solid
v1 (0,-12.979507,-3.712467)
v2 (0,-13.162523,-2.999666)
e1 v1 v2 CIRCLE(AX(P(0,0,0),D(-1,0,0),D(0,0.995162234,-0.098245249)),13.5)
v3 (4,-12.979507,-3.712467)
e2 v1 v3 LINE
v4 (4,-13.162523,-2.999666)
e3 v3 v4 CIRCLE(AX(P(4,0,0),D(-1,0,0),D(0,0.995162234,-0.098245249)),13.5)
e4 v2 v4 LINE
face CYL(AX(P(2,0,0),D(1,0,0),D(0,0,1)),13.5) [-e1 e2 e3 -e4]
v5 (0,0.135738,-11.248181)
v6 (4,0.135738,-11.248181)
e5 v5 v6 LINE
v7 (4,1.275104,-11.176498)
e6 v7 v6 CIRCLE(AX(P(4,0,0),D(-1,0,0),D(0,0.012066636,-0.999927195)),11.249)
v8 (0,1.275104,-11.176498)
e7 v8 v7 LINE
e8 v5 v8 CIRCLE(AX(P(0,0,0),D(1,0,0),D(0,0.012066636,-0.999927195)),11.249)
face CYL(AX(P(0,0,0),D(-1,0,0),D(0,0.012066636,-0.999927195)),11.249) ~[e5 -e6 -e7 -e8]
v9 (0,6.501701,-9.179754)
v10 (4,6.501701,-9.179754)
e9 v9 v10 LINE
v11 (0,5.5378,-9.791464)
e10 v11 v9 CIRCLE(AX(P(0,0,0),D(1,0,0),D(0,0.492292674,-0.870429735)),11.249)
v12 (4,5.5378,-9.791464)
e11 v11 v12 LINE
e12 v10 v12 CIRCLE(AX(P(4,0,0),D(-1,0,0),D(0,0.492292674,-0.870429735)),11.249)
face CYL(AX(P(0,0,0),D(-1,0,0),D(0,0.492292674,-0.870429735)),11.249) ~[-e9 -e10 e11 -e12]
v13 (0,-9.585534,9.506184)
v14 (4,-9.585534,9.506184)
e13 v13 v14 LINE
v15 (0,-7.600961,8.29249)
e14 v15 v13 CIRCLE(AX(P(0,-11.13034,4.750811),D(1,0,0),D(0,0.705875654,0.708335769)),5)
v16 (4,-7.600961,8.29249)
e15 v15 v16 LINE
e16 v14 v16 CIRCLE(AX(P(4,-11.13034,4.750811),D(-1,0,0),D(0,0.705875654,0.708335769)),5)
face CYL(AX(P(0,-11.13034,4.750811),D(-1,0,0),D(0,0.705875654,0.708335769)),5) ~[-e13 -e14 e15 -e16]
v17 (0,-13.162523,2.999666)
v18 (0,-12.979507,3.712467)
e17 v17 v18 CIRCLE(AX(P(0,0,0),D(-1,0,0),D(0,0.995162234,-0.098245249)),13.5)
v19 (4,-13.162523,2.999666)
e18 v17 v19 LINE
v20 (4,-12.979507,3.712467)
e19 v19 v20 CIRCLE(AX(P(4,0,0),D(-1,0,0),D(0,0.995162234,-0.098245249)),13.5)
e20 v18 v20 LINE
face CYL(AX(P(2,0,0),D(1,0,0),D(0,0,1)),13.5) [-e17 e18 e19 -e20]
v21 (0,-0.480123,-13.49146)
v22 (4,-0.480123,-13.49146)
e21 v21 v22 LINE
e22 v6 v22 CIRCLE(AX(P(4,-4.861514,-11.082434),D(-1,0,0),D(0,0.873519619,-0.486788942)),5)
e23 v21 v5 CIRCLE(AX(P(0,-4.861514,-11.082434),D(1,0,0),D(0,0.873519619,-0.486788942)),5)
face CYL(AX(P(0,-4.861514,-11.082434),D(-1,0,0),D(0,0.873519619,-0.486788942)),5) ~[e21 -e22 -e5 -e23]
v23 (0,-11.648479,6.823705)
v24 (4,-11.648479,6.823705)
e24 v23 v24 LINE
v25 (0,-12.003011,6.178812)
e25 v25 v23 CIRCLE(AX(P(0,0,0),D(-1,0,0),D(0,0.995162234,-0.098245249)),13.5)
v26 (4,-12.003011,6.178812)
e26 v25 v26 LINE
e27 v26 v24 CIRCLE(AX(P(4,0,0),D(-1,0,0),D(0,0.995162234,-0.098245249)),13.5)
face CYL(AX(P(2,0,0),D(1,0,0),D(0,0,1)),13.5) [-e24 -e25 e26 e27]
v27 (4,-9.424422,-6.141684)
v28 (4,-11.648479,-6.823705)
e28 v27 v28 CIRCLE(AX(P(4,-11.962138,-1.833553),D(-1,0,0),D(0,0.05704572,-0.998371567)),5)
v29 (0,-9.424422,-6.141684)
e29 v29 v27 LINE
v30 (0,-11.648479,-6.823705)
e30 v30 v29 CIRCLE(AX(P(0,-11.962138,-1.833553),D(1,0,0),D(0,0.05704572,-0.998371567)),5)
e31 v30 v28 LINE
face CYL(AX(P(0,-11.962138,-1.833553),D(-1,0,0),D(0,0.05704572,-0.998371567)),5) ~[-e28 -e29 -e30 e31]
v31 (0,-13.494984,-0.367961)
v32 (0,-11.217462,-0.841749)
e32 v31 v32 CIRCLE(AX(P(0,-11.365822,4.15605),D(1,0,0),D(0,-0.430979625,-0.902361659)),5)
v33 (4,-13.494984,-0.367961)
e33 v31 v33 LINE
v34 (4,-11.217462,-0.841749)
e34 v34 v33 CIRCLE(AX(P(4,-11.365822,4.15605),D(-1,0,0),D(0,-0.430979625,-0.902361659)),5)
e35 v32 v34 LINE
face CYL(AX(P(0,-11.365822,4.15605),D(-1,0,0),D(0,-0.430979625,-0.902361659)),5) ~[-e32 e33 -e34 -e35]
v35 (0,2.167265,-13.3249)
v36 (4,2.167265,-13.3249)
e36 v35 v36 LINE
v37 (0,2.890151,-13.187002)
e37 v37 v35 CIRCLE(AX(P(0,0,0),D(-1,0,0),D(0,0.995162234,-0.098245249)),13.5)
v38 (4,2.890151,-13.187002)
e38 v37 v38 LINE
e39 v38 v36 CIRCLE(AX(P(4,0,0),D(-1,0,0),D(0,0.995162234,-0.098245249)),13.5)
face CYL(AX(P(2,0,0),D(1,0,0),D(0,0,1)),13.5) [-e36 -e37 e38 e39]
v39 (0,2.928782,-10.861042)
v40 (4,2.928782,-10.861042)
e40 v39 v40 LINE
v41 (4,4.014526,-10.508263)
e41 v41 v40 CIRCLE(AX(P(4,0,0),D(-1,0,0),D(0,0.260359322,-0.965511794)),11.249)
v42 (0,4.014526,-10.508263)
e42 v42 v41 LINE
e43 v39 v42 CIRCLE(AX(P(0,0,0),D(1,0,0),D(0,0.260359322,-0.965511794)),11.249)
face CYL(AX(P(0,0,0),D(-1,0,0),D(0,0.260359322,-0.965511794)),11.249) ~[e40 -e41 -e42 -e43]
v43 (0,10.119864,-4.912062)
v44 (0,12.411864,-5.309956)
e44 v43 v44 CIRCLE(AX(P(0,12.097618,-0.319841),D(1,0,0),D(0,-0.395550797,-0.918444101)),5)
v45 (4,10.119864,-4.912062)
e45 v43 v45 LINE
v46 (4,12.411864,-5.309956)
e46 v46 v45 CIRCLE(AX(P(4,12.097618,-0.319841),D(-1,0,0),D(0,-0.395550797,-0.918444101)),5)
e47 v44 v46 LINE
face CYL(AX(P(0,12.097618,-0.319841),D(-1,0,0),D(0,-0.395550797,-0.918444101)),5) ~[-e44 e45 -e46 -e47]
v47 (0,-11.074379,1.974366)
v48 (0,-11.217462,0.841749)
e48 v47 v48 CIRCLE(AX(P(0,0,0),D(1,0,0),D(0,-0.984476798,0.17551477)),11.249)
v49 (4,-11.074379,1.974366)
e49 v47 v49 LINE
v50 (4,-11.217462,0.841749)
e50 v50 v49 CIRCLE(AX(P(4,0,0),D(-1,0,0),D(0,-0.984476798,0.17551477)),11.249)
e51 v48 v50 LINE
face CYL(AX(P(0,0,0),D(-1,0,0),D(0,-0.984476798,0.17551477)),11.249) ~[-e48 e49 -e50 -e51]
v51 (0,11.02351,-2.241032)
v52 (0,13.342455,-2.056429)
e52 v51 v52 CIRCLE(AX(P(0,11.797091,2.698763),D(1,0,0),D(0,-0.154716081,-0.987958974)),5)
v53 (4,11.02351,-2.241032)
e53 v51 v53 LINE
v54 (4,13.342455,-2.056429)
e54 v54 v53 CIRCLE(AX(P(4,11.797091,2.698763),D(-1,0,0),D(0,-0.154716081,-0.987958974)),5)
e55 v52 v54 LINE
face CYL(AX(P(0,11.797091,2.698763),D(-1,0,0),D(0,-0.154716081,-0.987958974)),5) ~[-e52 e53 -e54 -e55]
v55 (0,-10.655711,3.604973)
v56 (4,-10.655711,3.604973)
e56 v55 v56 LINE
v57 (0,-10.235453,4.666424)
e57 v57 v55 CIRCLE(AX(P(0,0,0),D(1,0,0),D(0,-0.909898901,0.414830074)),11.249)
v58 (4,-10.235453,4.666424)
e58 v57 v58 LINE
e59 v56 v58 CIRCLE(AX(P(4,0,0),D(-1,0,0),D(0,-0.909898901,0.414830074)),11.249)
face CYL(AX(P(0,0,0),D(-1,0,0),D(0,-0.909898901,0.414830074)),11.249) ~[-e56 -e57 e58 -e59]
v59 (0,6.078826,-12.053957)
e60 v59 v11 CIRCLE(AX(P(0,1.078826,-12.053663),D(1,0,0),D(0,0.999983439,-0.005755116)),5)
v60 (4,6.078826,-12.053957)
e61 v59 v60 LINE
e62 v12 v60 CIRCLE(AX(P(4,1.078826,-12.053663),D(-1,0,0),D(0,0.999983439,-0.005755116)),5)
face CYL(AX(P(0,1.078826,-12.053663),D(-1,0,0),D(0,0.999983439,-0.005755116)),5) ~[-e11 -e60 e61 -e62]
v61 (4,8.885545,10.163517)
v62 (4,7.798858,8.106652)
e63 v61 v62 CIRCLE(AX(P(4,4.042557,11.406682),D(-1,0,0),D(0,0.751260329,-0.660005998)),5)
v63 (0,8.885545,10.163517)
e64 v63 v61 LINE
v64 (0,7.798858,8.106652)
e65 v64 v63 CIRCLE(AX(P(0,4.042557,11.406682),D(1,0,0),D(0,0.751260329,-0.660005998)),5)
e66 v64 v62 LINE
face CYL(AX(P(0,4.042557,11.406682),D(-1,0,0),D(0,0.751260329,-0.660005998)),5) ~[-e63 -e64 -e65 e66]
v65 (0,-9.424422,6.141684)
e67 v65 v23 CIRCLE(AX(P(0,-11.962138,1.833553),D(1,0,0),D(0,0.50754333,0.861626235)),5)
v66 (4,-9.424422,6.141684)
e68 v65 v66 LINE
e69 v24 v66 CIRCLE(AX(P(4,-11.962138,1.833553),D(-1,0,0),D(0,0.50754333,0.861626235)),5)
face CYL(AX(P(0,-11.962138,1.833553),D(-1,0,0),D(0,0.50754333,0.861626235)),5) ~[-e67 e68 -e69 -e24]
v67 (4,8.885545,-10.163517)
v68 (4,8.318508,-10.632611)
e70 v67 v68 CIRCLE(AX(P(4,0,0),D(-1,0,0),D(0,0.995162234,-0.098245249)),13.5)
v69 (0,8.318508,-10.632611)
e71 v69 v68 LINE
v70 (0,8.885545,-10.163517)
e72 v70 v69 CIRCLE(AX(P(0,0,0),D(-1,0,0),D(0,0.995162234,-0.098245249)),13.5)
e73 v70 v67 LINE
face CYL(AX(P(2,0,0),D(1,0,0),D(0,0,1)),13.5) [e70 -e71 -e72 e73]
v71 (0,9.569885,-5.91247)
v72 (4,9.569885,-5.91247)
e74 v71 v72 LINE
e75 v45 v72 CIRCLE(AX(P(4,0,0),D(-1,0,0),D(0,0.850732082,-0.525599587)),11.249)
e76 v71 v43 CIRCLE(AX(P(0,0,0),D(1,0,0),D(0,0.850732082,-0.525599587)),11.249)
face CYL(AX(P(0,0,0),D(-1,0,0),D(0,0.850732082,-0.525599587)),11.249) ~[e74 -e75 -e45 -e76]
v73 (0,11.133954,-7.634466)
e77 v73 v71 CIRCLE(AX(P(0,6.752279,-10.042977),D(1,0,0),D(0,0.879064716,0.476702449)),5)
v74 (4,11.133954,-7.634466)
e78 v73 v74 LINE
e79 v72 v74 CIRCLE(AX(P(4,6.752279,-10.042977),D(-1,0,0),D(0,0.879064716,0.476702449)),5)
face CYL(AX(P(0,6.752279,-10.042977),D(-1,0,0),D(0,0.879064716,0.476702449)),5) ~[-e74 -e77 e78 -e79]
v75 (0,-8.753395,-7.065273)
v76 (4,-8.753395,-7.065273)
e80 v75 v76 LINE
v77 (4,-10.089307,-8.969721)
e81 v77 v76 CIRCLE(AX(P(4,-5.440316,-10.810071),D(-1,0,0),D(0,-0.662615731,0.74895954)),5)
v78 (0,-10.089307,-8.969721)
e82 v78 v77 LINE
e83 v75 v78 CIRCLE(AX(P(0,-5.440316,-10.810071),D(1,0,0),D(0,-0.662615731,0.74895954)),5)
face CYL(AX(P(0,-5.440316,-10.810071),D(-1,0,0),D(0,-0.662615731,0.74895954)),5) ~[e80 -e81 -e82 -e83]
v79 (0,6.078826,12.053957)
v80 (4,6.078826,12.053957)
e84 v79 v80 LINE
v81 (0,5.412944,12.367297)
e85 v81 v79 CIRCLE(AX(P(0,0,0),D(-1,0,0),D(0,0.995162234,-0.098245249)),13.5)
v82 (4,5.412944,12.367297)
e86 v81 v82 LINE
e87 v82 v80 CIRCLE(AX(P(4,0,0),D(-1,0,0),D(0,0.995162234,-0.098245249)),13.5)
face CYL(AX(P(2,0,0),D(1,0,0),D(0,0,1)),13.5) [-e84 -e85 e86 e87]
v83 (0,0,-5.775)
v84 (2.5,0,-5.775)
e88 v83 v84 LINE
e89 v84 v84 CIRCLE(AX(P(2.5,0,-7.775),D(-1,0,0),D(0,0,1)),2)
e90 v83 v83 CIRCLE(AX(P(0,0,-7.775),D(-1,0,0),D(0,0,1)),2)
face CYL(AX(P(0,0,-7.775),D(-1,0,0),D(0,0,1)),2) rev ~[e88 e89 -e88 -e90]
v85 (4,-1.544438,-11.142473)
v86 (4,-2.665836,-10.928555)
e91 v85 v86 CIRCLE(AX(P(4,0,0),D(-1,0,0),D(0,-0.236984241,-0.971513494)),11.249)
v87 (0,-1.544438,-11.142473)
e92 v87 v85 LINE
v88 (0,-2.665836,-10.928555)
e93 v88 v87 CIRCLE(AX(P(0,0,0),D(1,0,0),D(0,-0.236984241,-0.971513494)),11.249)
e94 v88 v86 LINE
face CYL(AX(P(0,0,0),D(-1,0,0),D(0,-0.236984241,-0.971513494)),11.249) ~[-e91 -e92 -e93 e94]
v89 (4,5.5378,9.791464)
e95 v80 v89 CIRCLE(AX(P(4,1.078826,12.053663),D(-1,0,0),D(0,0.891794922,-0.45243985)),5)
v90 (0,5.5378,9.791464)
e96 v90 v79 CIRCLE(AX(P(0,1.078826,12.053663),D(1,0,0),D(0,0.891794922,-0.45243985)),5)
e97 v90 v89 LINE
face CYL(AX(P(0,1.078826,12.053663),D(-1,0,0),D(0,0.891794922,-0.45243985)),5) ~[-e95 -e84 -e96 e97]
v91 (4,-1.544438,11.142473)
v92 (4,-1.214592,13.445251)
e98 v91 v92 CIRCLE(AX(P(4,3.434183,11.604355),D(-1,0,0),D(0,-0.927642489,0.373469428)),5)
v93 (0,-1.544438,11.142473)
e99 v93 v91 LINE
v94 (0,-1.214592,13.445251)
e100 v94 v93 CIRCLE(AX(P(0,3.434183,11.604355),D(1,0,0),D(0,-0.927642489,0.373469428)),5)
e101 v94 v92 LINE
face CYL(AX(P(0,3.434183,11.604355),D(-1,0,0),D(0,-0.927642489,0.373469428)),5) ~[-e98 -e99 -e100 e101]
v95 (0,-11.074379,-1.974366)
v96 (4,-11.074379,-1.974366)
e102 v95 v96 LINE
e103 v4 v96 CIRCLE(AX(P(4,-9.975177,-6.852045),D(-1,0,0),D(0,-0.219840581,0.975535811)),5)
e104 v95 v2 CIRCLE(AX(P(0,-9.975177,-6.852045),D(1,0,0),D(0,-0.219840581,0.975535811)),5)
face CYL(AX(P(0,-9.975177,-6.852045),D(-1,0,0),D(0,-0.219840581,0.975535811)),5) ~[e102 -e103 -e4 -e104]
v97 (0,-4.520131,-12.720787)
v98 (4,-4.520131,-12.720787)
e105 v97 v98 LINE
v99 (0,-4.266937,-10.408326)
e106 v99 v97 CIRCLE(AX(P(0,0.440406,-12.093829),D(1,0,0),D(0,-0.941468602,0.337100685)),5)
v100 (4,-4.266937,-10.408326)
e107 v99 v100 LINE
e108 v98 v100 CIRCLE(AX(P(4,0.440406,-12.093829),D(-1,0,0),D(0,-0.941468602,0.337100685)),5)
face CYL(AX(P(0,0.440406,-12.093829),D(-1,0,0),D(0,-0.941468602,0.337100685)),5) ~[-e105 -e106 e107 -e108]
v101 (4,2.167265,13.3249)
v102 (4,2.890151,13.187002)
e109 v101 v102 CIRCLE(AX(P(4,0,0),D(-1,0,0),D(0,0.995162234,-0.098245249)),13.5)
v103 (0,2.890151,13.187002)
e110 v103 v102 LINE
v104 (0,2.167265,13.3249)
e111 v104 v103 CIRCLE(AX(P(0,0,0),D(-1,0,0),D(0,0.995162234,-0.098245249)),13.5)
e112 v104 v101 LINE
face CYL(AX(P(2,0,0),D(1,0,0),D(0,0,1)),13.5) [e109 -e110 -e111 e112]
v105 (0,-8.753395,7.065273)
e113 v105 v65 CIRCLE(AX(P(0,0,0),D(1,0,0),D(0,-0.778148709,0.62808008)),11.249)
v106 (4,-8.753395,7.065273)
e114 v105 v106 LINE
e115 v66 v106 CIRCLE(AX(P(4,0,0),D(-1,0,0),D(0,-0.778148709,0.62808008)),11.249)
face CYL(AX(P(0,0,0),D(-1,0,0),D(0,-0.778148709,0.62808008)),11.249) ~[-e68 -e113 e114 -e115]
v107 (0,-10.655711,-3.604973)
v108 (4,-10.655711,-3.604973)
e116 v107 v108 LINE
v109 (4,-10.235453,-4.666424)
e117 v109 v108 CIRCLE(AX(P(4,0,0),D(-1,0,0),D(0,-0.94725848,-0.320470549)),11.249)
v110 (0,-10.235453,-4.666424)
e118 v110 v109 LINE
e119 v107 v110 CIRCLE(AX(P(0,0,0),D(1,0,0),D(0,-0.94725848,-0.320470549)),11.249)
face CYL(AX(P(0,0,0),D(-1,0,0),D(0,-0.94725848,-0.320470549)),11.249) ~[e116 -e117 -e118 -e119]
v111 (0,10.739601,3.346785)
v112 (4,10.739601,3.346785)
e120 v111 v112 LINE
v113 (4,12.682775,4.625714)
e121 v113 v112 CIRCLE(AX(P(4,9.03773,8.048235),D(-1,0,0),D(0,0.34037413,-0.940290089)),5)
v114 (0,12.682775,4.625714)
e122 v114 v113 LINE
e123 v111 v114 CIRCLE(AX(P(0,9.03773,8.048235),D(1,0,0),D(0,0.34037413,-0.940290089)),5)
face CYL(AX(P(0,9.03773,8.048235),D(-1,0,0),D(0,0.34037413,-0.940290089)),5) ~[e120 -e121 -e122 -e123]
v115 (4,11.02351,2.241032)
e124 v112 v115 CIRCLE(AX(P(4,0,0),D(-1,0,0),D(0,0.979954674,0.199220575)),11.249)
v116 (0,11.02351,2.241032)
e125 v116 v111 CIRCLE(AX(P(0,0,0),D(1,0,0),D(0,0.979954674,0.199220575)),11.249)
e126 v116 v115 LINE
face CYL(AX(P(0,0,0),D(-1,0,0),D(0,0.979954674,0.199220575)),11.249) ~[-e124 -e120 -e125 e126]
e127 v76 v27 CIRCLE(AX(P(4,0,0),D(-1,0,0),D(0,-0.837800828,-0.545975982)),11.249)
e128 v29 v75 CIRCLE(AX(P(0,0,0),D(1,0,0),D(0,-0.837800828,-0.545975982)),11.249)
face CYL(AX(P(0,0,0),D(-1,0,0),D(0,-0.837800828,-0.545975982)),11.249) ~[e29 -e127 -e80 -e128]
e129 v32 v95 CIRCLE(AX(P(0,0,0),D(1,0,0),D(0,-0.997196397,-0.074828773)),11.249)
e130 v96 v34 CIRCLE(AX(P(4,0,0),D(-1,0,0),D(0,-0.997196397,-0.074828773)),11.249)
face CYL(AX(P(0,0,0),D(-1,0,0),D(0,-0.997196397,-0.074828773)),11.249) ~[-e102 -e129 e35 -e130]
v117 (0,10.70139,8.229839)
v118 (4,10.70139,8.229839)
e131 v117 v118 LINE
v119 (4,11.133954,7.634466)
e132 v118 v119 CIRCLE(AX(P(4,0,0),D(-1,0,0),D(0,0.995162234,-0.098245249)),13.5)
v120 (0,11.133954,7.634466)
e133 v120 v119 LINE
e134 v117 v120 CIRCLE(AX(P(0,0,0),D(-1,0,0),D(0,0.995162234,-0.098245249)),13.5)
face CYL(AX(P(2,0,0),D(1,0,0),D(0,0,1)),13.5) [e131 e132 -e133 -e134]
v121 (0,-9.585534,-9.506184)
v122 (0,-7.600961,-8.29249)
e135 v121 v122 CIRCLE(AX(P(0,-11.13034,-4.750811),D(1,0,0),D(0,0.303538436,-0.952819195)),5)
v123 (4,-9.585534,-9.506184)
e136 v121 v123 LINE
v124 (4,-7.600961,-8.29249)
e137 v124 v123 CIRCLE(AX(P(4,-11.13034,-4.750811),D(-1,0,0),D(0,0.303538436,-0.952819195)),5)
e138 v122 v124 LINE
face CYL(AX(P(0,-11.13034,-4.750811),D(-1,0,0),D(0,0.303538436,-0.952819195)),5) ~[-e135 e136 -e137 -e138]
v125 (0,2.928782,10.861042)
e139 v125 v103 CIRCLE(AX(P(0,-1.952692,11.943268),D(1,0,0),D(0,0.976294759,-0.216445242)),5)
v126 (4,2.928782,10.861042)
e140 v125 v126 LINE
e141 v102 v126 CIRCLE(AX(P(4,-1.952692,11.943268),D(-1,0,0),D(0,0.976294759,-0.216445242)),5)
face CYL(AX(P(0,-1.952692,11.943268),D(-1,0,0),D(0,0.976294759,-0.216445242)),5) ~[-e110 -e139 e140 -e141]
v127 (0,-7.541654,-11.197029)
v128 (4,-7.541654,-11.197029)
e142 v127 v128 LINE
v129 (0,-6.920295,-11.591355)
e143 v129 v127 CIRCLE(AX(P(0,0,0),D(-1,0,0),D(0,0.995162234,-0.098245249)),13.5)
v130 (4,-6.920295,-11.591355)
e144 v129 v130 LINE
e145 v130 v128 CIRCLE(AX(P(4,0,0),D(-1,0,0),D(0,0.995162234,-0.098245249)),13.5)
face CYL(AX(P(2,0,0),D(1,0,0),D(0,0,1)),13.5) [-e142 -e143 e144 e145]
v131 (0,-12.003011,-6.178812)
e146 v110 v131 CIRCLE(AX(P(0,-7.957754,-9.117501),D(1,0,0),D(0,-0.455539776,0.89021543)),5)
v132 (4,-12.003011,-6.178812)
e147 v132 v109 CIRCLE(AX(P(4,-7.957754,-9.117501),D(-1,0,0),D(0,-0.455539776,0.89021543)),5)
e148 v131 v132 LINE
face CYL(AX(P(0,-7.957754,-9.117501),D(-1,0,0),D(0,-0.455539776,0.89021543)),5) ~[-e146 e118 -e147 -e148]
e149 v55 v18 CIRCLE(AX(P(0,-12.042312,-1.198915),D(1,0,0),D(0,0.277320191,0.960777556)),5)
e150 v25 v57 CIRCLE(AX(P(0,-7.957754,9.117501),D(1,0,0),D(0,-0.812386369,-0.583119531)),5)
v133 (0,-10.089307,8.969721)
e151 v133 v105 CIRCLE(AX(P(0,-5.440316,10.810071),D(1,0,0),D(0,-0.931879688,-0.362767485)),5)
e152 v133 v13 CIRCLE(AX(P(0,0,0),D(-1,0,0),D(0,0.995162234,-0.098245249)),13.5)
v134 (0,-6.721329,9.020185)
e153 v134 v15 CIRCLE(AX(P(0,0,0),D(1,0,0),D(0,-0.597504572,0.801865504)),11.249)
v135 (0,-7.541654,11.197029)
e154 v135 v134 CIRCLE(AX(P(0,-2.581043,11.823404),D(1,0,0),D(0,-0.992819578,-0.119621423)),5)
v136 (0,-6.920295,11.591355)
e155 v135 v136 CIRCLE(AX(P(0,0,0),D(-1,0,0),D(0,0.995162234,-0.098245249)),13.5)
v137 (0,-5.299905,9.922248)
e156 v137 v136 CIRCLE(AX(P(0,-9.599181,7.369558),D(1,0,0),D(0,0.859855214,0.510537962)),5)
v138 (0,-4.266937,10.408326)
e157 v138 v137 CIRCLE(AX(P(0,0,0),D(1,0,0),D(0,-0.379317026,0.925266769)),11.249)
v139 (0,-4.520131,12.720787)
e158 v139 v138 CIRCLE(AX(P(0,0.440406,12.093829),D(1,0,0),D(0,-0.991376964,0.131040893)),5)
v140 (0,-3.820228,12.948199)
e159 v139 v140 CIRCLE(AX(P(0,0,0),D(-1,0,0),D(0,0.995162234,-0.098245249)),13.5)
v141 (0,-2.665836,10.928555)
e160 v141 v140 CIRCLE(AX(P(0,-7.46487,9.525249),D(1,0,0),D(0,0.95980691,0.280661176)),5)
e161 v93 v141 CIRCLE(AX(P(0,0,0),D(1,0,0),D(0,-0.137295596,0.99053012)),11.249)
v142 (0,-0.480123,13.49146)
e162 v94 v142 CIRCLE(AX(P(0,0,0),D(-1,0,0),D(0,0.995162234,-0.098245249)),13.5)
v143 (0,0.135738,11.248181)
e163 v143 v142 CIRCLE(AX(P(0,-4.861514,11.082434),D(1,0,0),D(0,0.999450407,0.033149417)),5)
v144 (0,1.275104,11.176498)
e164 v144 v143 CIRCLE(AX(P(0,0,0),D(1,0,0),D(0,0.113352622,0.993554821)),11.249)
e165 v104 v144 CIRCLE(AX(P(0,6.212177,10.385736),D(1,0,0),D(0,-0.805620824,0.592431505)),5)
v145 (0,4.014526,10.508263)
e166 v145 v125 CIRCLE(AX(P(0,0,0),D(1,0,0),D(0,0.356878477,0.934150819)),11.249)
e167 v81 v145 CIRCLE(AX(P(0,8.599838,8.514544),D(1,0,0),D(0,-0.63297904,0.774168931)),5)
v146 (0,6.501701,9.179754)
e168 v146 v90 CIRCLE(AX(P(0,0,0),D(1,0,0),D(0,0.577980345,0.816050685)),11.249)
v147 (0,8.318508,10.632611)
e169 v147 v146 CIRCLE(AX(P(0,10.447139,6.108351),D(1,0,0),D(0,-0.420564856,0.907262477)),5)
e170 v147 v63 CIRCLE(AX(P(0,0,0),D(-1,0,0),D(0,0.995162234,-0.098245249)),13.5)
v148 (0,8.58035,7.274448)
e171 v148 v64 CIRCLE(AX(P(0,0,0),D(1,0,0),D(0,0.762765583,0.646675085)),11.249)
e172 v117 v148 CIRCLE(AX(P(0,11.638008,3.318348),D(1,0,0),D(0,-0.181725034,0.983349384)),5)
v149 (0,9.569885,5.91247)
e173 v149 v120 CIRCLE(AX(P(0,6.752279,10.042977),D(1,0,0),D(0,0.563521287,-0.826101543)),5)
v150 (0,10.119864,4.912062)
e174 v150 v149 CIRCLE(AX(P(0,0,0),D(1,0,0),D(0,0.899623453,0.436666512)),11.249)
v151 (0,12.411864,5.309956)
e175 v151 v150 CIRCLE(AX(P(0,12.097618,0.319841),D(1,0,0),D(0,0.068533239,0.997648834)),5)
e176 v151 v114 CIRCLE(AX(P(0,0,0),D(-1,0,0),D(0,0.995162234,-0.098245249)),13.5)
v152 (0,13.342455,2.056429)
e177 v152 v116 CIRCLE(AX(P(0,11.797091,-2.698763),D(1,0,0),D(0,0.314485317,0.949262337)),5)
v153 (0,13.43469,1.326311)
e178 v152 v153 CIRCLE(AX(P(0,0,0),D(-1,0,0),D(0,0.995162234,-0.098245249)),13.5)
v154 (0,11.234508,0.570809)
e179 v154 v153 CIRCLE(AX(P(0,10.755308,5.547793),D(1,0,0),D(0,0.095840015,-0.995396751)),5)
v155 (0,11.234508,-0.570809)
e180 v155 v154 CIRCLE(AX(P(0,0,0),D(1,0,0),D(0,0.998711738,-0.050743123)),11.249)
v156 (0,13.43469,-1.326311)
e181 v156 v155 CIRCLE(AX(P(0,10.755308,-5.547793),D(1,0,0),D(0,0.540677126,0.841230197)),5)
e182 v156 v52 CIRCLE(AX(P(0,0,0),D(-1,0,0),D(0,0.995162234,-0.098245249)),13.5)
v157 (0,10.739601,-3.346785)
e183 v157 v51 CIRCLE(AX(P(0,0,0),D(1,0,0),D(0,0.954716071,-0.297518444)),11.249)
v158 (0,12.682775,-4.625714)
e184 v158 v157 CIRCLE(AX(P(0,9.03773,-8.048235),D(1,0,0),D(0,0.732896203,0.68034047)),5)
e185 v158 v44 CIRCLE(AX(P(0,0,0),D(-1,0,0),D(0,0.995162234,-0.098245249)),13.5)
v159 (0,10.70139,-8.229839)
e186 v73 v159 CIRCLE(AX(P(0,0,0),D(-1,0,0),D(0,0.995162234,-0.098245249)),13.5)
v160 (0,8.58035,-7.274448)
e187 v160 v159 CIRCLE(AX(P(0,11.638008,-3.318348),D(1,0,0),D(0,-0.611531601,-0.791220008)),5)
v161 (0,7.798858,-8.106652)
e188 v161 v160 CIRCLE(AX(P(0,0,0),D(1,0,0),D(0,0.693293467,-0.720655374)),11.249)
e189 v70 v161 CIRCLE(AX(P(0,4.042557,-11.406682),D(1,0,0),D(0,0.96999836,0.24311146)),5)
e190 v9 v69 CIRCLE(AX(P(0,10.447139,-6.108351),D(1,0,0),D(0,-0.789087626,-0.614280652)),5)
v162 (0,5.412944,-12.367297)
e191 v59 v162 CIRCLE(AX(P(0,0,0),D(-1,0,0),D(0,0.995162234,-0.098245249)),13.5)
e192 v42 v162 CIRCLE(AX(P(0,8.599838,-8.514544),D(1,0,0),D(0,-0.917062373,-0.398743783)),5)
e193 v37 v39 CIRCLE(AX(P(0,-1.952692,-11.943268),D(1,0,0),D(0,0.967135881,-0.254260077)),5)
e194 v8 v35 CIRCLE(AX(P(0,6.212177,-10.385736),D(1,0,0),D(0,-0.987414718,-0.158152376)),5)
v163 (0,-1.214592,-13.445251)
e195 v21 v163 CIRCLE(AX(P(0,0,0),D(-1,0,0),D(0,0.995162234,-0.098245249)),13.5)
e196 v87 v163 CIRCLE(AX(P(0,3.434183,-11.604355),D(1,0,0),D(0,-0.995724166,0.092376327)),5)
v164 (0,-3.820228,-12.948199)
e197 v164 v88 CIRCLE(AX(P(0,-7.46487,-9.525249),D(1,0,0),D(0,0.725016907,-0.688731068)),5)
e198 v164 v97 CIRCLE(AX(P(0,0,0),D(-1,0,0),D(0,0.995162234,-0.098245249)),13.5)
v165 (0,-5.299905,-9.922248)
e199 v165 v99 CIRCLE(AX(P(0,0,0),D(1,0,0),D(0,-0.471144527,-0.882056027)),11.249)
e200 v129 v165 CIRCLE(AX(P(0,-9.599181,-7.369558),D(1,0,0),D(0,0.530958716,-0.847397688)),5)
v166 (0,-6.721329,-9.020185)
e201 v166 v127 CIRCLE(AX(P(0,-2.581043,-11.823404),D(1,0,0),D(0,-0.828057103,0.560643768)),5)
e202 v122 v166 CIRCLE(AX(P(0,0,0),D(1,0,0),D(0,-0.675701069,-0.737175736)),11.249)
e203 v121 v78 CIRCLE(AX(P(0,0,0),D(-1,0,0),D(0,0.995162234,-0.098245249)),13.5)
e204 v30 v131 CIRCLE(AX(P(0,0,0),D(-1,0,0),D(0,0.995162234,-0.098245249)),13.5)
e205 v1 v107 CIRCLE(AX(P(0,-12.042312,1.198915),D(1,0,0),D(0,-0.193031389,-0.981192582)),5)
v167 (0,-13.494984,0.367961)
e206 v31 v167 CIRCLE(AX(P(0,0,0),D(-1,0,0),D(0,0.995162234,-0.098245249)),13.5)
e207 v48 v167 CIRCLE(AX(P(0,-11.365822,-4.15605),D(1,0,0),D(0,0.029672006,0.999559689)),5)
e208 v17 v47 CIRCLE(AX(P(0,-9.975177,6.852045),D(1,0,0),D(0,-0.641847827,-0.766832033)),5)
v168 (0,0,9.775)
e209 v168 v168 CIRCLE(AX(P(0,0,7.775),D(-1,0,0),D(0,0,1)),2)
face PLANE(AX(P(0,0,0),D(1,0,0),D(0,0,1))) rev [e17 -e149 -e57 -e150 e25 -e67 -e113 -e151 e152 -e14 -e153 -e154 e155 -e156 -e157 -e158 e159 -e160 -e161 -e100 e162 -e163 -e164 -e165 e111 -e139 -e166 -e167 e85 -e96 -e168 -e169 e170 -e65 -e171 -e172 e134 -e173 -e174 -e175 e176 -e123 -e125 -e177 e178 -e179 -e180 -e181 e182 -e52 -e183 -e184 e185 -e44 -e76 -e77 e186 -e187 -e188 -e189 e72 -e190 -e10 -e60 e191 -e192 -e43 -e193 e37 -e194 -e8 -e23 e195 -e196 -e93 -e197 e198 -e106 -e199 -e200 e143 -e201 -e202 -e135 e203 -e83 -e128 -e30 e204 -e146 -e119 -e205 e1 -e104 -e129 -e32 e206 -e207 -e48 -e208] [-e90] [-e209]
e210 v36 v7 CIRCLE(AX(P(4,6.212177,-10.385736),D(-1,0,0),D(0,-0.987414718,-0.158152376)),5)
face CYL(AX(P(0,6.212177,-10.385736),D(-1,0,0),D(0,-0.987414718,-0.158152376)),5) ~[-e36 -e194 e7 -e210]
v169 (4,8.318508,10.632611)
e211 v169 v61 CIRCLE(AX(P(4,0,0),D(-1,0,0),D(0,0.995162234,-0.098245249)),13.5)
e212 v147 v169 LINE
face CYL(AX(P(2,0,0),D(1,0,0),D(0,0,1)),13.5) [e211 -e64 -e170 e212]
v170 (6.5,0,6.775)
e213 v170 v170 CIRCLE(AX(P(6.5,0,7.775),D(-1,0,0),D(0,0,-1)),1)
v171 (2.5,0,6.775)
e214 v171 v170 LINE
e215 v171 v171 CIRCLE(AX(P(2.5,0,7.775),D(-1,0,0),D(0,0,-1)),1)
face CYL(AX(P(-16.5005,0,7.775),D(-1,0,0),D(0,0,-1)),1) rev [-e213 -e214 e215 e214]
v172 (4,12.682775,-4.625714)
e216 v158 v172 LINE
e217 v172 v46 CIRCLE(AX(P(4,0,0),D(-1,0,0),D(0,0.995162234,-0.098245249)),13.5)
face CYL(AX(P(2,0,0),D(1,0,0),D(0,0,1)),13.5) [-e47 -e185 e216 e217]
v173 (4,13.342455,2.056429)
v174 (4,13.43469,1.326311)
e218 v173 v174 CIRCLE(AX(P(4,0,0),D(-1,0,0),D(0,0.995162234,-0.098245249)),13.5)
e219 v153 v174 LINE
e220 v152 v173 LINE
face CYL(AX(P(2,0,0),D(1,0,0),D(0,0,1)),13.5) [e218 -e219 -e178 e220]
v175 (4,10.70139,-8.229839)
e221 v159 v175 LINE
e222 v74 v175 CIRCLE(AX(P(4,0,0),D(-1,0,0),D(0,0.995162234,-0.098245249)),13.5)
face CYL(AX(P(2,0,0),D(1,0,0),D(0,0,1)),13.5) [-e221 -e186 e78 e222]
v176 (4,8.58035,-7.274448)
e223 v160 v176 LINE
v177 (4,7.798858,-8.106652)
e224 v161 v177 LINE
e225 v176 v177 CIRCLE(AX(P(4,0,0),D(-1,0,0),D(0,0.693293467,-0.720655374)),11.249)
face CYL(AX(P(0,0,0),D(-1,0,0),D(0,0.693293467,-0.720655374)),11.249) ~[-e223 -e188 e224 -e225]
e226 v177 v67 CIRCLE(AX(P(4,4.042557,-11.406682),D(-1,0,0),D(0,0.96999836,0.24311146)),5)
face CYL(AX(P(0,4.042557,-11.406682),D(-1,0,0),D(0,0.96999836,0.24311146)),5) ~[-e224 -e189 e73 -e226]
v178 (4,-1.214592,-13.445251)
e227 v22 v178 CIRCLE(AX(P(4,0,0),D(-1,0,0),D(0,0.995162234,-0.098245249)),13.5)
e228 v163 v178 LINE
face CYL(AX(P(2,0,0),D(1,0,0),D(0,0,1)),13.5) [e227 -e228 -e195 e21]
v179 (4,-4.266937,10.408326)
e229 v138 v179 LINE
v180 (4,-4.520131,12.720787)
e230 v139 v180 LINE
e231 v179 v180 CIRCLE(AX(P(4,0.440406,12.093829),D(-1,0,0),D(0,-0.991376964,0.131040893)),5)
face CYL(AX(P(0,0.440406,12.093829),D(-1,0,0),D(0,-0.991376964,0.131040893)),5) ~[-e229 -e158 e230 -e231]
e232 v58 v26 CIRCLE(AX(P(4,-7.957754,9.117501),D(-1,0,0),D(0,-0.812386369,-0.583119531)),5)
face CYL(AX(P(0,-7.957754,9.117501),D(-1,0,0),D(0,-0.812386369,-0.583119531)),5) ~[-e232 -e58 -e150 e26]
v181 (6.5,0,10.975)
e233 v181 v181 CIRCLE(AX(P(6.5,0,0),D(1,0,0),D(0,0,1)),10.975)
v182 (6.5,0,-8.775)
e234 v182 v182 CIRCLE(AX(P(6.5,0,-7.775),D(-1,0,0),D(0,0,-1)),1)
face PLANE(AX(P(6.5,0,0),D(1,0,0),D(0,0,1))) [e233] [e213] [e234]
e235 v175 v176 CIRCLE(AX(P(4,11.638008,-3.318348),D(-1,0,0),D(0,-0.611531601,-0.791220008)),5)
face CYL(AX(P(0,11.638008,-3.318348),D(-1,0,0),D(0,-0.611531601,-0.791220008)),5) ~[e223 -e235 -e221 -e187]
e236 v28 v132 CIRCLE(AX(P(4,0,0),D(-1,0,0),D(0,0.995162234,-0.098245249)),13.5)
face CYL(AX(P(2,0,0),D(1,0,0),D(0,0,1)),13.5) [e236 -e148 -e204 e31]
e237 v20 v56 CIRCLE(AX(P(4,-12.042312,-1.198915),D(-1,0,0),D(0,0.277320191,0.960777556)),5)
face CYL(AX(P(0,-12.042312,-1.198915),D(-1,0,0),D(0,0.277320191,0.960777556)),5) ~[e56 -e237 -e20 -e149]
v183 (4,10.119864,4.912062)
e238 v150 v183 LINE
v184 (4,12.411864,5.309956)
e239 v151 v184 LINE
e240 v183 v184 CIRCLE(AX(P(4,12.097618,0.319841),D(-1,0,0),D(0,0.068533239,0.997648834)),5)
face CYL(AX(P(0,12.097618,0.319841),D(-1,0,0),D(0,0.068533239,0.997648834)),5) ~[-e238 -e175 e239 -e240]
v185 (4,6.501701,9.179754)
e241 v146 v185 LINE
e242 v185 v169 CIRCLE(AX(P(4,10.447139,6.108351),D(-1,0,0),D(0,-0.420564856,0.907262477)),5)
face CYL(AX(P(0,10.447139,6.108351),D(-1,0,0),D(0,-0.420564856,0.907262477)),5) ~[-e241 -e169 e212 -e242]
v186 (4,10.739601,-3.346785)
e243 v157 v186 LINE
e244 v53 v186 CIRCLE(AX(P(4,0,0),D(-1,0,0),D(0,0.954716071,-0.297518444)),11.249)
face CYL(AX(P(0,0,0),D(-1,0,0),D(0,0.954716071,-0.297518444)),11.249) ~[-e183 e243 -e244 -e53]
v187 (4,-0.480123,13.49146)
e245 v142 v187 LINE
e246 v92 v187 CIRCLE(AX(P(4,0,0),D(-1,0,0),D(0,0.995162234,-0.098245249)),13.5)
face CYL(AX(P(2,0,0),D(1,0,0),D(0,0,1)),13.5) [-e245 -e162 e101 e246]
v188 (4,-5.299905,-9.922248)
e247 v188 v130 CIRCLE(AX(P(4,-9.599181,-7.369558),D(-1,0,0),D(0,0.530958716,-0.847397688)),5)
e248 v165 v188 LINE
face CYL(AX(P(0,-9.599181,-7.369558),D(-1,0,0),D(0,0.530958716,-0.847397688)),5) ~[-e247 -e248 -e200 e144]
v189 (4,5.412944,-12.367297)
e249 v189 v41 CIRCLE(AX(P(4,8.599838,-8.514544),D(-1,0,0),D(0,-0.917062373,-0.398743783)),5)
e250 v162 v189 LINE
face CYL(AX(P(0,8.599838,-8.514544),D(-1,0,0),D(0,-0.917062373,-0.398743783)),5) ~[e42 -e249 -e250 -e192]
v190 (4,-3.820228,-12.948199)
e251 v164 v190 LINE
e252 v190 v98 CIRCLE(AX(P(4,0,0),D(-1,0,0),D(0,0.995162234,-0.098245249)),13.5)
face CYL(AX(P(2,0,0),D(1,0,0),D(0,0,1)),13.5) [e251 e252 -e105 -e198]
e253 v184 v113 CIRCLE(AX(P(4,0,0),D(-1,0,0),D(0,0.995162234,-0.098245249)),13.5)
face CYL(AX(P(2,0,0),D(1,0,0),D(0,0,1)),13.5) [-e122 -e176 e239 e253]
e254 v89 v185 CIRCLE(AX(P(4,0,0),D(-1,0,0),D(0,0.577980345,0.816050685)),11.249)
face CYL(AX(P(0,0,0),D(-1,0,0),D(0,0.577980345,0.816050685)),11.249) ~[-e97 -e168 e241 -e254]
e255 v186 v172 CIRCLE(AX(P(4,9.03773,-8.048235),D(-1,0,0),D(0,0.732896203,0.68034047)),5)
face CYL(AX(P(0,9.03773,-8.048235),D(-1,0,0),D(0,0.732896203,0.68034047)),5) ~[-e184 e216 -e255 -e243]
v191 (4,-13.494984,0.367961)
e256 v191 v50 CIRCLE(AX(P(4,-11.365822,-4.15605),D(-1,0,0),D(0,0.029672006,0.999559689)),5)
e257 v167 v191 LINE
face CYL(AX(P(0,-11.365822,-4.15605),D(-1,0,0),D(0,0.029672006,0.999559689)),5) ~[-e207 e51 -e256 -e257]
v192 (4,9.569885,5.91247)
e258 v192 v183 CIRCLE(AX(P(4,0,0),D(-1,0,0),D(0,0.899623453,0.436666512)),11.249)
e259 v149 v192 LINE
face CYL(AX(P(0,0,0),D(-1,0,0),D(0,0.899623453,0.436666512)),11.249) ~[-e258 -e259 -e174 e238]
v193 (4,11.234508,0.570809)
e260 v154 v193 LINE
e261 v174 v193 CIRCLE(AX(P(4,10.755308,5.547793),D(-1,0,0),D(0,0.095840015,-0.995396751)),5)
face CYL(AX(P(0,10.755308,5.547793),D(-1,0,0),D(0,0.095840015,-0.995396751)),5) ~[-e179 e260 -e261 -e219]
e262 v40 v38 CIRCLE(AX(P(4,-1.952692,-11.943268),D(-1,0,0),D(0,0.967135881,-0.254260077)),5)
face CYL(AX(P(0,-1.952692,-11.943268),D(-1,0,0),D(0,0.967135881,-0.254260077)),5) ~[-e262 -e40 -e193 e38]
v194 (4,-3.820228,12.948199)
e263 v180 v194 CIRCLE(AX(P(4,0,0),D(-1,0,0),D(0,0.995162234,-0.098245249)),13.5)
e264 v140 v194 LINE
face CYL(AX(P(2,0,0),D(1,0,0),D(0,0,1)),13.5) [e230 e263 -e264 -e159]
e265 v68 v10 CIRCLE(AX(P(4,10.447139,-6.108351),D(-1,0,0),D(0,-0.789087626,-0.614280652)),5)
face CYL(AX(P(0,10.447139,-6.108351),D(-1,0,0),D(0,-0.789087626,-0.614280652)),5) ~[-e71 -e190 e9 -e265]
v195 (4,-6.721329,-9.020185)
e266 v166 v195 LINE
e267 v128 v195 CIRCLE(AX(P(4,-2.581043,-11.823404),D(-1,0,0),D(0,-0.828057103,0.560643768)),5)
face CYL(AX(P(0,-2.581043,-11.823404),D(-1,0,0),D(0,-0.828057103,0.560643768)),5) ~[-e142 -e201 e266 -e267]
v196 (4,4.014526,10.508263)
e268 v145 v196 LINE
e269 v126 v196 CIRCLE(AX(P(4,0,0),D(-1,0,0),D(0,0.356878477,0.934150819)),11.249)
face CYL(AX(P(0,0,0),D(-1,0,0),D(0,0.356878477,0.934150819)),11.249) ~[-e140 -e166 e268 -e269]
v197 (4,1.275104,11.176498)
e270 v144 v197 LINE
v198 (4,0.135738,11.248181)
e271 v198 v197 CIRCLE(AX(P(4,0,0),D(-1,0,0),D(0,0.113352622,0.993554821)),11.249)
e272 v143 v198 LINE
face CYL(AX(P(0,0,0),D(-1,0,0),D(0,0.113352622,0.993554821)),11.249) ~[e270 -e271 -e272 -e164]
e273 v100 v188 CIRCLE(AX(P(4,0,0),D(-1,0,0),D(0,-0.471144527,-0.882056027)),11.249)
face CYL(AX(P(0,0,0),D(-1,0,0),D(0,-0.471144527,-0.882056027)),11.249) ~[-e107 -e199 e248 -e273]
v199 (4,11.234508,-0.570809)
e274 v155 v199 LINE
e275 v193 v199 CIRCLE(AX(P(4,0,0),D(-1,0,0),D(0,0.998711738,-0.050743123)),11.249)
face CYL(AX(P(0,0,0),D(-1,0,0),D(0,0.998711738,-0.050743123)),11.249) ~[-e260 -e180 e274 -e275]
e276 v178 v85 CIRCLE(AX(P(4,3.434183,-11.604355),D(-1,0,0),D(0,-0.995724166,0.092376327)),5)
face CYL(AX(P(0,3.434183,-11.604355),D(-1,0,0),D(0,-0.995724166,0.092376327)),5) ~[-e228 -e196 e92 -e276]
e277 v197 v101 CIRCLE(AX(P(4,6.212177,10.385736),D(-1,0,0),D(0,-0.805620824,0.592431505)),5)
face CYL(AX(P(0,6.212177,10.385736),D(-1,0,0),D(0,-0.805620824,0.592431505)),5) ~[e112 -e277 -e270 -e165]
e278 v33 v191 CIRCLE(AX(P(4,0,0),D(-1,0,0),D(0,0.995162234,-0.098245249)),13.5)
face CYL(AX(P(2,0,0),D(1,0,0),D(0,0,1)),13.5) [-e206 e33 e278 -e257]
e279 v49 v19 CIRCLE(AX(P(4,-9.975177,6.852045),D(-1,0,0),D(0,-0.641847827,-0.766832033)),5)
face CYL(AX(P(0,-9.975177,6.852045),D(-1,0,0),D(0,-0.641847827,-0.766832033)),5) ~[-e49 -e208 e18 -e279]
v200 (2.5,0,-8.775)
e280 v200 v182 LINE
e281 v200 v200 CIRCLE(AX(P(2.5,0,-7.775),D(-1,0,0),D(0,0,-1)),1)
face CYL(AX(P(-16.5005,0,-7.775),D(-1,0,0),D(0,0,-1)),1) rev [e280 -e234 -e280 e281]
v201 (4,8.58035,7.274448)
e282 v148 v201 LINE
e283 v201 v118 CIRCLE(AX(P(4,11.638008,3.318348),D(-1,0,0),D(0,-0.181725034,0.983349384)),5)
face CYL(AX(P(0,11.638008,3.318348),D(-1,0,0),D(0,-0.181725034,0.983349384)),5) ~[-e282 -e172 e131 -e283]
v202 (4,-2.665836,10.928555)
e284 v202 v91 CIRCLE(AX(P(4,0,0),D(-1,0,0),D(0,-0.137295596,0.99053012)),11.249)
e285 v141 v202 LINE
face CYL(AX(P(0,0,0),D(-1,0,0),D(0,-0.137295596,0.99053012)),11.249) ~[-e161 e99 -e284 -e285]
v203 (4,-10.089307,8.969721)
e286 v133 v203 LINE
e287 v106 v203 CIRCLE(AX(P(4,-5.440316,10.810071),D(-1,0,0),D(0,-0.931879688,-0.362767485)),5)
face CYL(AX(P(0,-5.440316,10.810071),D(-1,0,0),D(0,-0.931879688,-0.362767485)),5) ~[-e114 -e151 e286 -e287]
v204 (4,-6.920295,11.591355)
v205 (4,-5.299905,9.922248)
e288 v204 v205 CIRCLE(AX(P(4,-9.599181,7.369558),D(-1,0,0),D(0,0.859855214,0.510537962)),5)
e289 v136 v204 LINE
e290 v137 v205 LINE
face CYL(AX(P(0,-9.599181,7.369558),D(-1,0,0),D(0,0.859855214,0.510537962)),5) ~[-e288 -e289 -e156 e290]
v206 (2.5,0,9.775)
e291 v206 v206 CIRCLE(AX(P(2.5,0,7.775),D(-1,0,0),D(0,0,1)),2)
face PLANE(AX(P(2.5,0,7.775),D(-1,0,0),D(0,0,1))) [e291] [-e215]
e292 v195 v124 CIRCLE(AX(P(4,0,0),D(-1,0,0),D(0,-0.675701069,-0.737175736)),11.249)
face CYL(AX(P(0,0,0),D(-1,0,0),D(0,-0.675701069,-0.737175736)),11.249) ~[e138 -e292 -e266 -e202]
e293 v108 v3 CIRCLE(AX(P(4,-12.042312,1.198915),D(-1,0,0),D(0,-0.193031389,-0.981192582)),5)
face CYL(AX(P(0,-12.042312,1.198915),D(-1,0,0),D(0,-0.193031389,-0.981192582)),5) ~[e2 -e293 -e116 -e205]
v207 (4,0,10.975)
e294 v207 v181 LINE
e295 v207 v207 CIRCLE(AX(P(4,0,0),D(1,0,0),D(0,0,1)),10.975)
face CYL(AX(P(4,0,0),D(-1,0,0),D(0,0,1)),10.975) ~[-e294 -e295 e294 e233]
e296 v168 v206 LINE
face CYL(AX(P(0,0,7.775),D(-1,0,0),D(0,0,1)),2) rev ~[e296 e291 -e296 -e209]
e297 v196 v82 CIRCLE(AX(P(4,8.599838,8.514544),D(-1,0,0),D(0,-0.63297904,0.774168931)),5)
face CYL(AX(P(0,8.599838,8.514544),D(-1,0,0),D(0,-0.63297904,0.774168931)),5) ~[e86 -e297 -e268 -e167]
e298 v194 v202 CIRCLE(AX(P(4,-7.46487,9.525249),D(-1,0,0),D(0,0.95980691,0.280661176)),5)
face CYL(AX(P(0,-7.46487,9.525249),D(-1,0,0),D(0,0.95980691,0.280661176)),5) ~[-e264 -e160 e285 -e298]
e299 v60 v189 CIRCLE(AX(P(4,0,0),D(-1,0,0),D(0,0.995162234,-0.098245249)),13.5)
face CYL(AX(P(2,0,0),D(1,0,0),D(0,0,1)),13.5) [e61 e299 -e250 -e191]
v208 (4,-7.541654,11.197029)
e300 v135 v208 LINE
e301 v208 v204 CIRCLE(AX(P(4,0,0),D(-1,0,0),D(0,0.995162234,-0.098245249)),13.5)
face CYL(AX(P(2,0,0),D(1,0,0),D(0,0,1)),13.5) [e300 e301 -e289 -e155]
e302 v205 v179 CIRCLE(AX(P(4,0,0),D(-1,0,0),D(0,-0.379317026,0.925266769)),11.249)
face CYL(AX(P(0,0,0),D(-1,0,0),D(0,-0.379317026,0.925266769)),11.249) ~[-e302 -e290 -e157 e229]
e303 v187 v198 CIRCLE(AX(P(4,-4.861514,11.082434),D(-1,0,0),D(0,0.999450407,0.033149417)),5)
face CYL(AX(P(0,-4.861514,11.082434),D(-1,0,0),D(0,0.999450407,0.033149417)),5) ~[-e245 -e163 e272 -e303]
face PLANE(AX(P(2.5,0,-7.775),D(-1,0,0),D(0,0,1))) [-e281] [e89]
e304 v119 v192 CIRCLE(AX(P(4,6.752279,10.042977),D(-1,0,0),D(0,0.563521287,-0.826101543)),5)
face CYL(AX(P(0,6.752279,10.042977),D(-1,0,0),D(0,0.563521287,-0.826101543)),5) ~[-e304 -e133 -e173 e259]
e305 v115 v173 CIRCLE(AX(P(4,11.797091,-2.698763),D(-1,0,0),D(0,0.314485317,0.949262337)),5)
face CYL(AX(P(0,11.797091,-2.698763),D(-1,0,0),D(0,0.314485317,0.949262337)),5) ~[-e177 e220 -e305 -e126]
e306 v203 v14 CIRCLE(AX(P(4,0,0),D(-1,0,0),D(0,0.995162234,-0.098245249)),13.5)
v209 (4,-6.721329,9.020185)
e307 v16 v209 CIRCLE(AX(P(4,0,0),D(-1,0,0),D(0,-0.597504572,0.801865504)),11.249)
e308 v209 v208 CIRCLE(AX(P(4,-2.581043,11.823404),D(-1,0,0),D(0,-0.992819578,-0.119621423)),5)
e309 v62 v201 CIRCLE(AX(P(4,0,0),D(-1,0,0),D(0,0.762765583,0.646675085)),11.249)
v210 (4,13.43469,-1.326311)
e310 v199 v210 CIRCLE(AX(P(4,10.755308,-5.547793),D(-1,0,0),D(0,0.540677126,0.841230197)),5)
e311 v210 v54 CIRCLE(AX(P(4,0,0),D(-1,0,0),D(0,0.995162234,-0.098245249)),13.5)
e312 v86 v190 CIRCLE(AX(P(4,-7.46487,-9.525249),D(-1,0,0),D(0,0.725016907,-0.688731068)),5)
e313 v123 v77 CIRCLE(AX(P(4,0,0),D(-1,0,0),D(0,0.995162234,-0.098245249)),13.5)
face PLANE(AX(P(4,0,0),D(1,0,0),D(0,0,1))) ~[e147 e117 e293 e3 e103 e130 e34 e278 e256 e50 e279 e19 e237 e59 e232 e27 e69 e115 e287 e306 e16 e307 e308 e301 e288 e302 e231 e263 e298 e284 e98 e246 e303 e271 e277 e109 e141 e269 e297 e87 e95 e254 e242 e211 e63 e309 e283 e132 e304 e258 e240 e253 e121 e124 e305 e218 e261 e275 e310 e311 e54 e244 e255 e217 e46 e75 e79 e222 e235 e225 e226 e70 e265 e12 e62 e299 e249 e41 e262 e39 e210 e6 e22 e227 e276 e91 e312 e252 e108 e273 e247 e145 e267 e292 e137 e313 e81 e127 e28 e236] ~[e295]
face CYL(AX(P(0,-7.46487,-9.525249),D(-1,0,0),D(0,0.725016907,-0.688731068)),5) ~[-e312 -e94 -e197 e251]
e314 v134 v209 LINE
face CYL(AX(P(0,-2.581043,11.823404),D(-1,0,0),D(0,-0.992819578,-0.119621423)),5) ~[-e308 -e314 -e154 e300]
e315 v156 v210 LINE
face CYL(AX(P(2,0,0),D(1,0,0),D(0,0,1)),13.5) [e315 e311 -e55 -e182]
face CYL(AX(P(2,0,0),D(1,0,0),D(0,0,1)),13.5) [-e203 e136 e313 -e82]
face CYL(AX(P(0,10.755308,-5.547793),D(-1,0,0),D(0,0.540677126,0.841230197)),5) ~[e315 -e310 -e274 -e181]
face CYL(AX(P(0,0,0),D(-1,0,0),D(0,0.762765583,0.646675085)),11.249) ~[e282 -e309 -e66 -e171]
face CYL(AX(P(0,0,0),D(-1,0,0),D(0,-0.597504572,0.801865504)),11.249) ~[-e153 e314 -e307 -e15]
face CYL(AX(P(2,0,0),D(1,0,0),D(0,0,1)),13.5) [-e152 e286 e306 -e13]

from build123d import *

# Parameters (mm, degrees)
BASPROSKE_W                  = 4
BASPROSKE_H                  = 13.5
TOOTHCUT_DEPTH               = 20.506409203
TEETHCUTS_COUNT              = 25
TEETHCUTS_ANGLE              = 345.6
BORSKE_R                     = 1.5
BORE_DEPTH                   = 50.0000508
ESQUISSE1_R                  = 4.015099064
BOSS_EXTRU_1_DEPTH           = 4
ESQUISSE3_R                  = 10.975
BOSS_EXTRU_2_DEPTH           = 2.5
ENL_V_MAT_EXTRU_1_DEPTH      = 20.500499542
ENL_V_MAT_EXTRU_1_DEPTH_BACK = 20.500499542
ESQUISSE2_R                  = 1
ESQUISSE4_R                  = 2
ENL_V_MAT_EXTRU_2_DEPTH      = 2.5


with BuildPart() as part:
    # BasProSke → Base-Revolve (revolve)
    with BuildSketch(Plane(origin=(0, 0, 0), x_dir=(1, 0, 0), z_dir=(0, 1, 0)), mode=Mode.PRIVATE) as base_revolve_sk:
        with Locations((2, 6.75)):
            Rectangle(BASPROSKE_W, BASPROSKE_H)
    revolve(base_revolve_sk.sketch.rotate(Axis((-10, 0, 0), (1, 0, 0)), 180), axis=Axis((-10, 0, 0), (1, 0, 0)))

    # TooCutSke → ToothCut (cut, through all)
    with BuildSketch(Plane(origin=(0, 0, 0), x_dir=(0, 0, -1), z_dir=(1, 0, 0))):
        with BuildLine():
            ThreePointArc((0.570809389, 11.23450834), (0, 11.249), (-0.570809389, 11.23450834))
            ThreePointArc((-0.570809389, 11.23450834), (-0.823468719, 12.39261054), (-1.341642157, 13.4586939))
            ThreePointArc((-1.341642157, 13.4586939), (0, 13.5254), (1.341642157, 13.4586939))
            ThreePointArc((1.341642157, 13.4586939), (0.823468719, 12.39261054), (0.570809389, 11.23450834))
        make_face()
    toothcut = extrude(amount=TOOTHCUT_DEPTH, mode=Mode.SUBTRACT)

    # TeethCuts: ToothCut ×25 about axis
    teethcuts_axis = Axis((-10, 0, 0), (1, 0, 0))
    for i in range(1, TEETHCUTS_COUNT):
        add(toothcut.rotate(teethcuts_axis, i * TEETHCUTS_ANGLE / (TEETHCUTS_COUNT - 1)), mode=Mode.SUBTRACT)

    # BorSke → Bore (cut, symmetric)
    with BuildSketch(Plane(origin=(0, 0, 0), x_dir=(0, 0, -1), z_dir=(1, 0, 0))):
        with Locations(Location((0, 0, 0), (0, 0, 180))):
            Circle(BORSKE_R)
    extrude(amount=BORE_DEPTH, both=True, mode=Mode.SUBTRACT)

    # Esquisse1 → Boss.-Extru.1 (add)
    with BuildSketch(Plane(origin=(4, 0, 0), x_dir=(0, 0, -1), z_dir=(1, 0, 0))):
        Circle(ESQUISSE1_R)
    extrude(amount=-BOSS_EXTRU_1_DEPTH)

    # Esquisse3 → Boss.-Extru.2 (add)
    with BuildSketch(Plane(origin=(4, 0, 0), x_dir=(0, 0, -1), z_dir=(1, 0, 0))):
        with Locations(Location((0, 0, 0), (0, 0, 180))):
            Circle(ESQUISSE3_R)
    extrude(amount=BOSS_EXTRU_2_DEPTH)

    # Esquisse2 → Enlèv. mat.-Extru.1 (cut, two sides: drawn at the far end of the back side and taken through both)
    with BuildSketch(Plane(origin=(4, 0, 0), x_dir=(0, 0, -1), z_dir=(1, 0, 0)).offset(-ENL_V_MAT_EXTRU_1_DEPTH_BACK)):
        with Locations((-7.775, 0)):
            Circle(ESQUISSE2_R)
        with Locations((7.775, 0)):
            Circle(ESQUISSE2_R)
    extrude(amount=ENL_V_MAT_EXTRU_1_DEPTH + ENL_V_MAT_EXTRU_1_DEPTH_BACK, mode=Mode.SUBTRACT)

    # Esquisse4 → Enlèv. mat.-Extru.2 (cut)
    with BuildSketch(Plane.ZY):
        with Locations((-7.775, 0)):
            Circle(ESQUISSE4_R)
        with Locations((7.775, 0)):
            Circle(ESQUISSE4_R)
    extrude(amount=-ENL_V_MAT_EXTRU_2_DEPTH, mode=Mode.SUBTRACT)


solid = part.part
